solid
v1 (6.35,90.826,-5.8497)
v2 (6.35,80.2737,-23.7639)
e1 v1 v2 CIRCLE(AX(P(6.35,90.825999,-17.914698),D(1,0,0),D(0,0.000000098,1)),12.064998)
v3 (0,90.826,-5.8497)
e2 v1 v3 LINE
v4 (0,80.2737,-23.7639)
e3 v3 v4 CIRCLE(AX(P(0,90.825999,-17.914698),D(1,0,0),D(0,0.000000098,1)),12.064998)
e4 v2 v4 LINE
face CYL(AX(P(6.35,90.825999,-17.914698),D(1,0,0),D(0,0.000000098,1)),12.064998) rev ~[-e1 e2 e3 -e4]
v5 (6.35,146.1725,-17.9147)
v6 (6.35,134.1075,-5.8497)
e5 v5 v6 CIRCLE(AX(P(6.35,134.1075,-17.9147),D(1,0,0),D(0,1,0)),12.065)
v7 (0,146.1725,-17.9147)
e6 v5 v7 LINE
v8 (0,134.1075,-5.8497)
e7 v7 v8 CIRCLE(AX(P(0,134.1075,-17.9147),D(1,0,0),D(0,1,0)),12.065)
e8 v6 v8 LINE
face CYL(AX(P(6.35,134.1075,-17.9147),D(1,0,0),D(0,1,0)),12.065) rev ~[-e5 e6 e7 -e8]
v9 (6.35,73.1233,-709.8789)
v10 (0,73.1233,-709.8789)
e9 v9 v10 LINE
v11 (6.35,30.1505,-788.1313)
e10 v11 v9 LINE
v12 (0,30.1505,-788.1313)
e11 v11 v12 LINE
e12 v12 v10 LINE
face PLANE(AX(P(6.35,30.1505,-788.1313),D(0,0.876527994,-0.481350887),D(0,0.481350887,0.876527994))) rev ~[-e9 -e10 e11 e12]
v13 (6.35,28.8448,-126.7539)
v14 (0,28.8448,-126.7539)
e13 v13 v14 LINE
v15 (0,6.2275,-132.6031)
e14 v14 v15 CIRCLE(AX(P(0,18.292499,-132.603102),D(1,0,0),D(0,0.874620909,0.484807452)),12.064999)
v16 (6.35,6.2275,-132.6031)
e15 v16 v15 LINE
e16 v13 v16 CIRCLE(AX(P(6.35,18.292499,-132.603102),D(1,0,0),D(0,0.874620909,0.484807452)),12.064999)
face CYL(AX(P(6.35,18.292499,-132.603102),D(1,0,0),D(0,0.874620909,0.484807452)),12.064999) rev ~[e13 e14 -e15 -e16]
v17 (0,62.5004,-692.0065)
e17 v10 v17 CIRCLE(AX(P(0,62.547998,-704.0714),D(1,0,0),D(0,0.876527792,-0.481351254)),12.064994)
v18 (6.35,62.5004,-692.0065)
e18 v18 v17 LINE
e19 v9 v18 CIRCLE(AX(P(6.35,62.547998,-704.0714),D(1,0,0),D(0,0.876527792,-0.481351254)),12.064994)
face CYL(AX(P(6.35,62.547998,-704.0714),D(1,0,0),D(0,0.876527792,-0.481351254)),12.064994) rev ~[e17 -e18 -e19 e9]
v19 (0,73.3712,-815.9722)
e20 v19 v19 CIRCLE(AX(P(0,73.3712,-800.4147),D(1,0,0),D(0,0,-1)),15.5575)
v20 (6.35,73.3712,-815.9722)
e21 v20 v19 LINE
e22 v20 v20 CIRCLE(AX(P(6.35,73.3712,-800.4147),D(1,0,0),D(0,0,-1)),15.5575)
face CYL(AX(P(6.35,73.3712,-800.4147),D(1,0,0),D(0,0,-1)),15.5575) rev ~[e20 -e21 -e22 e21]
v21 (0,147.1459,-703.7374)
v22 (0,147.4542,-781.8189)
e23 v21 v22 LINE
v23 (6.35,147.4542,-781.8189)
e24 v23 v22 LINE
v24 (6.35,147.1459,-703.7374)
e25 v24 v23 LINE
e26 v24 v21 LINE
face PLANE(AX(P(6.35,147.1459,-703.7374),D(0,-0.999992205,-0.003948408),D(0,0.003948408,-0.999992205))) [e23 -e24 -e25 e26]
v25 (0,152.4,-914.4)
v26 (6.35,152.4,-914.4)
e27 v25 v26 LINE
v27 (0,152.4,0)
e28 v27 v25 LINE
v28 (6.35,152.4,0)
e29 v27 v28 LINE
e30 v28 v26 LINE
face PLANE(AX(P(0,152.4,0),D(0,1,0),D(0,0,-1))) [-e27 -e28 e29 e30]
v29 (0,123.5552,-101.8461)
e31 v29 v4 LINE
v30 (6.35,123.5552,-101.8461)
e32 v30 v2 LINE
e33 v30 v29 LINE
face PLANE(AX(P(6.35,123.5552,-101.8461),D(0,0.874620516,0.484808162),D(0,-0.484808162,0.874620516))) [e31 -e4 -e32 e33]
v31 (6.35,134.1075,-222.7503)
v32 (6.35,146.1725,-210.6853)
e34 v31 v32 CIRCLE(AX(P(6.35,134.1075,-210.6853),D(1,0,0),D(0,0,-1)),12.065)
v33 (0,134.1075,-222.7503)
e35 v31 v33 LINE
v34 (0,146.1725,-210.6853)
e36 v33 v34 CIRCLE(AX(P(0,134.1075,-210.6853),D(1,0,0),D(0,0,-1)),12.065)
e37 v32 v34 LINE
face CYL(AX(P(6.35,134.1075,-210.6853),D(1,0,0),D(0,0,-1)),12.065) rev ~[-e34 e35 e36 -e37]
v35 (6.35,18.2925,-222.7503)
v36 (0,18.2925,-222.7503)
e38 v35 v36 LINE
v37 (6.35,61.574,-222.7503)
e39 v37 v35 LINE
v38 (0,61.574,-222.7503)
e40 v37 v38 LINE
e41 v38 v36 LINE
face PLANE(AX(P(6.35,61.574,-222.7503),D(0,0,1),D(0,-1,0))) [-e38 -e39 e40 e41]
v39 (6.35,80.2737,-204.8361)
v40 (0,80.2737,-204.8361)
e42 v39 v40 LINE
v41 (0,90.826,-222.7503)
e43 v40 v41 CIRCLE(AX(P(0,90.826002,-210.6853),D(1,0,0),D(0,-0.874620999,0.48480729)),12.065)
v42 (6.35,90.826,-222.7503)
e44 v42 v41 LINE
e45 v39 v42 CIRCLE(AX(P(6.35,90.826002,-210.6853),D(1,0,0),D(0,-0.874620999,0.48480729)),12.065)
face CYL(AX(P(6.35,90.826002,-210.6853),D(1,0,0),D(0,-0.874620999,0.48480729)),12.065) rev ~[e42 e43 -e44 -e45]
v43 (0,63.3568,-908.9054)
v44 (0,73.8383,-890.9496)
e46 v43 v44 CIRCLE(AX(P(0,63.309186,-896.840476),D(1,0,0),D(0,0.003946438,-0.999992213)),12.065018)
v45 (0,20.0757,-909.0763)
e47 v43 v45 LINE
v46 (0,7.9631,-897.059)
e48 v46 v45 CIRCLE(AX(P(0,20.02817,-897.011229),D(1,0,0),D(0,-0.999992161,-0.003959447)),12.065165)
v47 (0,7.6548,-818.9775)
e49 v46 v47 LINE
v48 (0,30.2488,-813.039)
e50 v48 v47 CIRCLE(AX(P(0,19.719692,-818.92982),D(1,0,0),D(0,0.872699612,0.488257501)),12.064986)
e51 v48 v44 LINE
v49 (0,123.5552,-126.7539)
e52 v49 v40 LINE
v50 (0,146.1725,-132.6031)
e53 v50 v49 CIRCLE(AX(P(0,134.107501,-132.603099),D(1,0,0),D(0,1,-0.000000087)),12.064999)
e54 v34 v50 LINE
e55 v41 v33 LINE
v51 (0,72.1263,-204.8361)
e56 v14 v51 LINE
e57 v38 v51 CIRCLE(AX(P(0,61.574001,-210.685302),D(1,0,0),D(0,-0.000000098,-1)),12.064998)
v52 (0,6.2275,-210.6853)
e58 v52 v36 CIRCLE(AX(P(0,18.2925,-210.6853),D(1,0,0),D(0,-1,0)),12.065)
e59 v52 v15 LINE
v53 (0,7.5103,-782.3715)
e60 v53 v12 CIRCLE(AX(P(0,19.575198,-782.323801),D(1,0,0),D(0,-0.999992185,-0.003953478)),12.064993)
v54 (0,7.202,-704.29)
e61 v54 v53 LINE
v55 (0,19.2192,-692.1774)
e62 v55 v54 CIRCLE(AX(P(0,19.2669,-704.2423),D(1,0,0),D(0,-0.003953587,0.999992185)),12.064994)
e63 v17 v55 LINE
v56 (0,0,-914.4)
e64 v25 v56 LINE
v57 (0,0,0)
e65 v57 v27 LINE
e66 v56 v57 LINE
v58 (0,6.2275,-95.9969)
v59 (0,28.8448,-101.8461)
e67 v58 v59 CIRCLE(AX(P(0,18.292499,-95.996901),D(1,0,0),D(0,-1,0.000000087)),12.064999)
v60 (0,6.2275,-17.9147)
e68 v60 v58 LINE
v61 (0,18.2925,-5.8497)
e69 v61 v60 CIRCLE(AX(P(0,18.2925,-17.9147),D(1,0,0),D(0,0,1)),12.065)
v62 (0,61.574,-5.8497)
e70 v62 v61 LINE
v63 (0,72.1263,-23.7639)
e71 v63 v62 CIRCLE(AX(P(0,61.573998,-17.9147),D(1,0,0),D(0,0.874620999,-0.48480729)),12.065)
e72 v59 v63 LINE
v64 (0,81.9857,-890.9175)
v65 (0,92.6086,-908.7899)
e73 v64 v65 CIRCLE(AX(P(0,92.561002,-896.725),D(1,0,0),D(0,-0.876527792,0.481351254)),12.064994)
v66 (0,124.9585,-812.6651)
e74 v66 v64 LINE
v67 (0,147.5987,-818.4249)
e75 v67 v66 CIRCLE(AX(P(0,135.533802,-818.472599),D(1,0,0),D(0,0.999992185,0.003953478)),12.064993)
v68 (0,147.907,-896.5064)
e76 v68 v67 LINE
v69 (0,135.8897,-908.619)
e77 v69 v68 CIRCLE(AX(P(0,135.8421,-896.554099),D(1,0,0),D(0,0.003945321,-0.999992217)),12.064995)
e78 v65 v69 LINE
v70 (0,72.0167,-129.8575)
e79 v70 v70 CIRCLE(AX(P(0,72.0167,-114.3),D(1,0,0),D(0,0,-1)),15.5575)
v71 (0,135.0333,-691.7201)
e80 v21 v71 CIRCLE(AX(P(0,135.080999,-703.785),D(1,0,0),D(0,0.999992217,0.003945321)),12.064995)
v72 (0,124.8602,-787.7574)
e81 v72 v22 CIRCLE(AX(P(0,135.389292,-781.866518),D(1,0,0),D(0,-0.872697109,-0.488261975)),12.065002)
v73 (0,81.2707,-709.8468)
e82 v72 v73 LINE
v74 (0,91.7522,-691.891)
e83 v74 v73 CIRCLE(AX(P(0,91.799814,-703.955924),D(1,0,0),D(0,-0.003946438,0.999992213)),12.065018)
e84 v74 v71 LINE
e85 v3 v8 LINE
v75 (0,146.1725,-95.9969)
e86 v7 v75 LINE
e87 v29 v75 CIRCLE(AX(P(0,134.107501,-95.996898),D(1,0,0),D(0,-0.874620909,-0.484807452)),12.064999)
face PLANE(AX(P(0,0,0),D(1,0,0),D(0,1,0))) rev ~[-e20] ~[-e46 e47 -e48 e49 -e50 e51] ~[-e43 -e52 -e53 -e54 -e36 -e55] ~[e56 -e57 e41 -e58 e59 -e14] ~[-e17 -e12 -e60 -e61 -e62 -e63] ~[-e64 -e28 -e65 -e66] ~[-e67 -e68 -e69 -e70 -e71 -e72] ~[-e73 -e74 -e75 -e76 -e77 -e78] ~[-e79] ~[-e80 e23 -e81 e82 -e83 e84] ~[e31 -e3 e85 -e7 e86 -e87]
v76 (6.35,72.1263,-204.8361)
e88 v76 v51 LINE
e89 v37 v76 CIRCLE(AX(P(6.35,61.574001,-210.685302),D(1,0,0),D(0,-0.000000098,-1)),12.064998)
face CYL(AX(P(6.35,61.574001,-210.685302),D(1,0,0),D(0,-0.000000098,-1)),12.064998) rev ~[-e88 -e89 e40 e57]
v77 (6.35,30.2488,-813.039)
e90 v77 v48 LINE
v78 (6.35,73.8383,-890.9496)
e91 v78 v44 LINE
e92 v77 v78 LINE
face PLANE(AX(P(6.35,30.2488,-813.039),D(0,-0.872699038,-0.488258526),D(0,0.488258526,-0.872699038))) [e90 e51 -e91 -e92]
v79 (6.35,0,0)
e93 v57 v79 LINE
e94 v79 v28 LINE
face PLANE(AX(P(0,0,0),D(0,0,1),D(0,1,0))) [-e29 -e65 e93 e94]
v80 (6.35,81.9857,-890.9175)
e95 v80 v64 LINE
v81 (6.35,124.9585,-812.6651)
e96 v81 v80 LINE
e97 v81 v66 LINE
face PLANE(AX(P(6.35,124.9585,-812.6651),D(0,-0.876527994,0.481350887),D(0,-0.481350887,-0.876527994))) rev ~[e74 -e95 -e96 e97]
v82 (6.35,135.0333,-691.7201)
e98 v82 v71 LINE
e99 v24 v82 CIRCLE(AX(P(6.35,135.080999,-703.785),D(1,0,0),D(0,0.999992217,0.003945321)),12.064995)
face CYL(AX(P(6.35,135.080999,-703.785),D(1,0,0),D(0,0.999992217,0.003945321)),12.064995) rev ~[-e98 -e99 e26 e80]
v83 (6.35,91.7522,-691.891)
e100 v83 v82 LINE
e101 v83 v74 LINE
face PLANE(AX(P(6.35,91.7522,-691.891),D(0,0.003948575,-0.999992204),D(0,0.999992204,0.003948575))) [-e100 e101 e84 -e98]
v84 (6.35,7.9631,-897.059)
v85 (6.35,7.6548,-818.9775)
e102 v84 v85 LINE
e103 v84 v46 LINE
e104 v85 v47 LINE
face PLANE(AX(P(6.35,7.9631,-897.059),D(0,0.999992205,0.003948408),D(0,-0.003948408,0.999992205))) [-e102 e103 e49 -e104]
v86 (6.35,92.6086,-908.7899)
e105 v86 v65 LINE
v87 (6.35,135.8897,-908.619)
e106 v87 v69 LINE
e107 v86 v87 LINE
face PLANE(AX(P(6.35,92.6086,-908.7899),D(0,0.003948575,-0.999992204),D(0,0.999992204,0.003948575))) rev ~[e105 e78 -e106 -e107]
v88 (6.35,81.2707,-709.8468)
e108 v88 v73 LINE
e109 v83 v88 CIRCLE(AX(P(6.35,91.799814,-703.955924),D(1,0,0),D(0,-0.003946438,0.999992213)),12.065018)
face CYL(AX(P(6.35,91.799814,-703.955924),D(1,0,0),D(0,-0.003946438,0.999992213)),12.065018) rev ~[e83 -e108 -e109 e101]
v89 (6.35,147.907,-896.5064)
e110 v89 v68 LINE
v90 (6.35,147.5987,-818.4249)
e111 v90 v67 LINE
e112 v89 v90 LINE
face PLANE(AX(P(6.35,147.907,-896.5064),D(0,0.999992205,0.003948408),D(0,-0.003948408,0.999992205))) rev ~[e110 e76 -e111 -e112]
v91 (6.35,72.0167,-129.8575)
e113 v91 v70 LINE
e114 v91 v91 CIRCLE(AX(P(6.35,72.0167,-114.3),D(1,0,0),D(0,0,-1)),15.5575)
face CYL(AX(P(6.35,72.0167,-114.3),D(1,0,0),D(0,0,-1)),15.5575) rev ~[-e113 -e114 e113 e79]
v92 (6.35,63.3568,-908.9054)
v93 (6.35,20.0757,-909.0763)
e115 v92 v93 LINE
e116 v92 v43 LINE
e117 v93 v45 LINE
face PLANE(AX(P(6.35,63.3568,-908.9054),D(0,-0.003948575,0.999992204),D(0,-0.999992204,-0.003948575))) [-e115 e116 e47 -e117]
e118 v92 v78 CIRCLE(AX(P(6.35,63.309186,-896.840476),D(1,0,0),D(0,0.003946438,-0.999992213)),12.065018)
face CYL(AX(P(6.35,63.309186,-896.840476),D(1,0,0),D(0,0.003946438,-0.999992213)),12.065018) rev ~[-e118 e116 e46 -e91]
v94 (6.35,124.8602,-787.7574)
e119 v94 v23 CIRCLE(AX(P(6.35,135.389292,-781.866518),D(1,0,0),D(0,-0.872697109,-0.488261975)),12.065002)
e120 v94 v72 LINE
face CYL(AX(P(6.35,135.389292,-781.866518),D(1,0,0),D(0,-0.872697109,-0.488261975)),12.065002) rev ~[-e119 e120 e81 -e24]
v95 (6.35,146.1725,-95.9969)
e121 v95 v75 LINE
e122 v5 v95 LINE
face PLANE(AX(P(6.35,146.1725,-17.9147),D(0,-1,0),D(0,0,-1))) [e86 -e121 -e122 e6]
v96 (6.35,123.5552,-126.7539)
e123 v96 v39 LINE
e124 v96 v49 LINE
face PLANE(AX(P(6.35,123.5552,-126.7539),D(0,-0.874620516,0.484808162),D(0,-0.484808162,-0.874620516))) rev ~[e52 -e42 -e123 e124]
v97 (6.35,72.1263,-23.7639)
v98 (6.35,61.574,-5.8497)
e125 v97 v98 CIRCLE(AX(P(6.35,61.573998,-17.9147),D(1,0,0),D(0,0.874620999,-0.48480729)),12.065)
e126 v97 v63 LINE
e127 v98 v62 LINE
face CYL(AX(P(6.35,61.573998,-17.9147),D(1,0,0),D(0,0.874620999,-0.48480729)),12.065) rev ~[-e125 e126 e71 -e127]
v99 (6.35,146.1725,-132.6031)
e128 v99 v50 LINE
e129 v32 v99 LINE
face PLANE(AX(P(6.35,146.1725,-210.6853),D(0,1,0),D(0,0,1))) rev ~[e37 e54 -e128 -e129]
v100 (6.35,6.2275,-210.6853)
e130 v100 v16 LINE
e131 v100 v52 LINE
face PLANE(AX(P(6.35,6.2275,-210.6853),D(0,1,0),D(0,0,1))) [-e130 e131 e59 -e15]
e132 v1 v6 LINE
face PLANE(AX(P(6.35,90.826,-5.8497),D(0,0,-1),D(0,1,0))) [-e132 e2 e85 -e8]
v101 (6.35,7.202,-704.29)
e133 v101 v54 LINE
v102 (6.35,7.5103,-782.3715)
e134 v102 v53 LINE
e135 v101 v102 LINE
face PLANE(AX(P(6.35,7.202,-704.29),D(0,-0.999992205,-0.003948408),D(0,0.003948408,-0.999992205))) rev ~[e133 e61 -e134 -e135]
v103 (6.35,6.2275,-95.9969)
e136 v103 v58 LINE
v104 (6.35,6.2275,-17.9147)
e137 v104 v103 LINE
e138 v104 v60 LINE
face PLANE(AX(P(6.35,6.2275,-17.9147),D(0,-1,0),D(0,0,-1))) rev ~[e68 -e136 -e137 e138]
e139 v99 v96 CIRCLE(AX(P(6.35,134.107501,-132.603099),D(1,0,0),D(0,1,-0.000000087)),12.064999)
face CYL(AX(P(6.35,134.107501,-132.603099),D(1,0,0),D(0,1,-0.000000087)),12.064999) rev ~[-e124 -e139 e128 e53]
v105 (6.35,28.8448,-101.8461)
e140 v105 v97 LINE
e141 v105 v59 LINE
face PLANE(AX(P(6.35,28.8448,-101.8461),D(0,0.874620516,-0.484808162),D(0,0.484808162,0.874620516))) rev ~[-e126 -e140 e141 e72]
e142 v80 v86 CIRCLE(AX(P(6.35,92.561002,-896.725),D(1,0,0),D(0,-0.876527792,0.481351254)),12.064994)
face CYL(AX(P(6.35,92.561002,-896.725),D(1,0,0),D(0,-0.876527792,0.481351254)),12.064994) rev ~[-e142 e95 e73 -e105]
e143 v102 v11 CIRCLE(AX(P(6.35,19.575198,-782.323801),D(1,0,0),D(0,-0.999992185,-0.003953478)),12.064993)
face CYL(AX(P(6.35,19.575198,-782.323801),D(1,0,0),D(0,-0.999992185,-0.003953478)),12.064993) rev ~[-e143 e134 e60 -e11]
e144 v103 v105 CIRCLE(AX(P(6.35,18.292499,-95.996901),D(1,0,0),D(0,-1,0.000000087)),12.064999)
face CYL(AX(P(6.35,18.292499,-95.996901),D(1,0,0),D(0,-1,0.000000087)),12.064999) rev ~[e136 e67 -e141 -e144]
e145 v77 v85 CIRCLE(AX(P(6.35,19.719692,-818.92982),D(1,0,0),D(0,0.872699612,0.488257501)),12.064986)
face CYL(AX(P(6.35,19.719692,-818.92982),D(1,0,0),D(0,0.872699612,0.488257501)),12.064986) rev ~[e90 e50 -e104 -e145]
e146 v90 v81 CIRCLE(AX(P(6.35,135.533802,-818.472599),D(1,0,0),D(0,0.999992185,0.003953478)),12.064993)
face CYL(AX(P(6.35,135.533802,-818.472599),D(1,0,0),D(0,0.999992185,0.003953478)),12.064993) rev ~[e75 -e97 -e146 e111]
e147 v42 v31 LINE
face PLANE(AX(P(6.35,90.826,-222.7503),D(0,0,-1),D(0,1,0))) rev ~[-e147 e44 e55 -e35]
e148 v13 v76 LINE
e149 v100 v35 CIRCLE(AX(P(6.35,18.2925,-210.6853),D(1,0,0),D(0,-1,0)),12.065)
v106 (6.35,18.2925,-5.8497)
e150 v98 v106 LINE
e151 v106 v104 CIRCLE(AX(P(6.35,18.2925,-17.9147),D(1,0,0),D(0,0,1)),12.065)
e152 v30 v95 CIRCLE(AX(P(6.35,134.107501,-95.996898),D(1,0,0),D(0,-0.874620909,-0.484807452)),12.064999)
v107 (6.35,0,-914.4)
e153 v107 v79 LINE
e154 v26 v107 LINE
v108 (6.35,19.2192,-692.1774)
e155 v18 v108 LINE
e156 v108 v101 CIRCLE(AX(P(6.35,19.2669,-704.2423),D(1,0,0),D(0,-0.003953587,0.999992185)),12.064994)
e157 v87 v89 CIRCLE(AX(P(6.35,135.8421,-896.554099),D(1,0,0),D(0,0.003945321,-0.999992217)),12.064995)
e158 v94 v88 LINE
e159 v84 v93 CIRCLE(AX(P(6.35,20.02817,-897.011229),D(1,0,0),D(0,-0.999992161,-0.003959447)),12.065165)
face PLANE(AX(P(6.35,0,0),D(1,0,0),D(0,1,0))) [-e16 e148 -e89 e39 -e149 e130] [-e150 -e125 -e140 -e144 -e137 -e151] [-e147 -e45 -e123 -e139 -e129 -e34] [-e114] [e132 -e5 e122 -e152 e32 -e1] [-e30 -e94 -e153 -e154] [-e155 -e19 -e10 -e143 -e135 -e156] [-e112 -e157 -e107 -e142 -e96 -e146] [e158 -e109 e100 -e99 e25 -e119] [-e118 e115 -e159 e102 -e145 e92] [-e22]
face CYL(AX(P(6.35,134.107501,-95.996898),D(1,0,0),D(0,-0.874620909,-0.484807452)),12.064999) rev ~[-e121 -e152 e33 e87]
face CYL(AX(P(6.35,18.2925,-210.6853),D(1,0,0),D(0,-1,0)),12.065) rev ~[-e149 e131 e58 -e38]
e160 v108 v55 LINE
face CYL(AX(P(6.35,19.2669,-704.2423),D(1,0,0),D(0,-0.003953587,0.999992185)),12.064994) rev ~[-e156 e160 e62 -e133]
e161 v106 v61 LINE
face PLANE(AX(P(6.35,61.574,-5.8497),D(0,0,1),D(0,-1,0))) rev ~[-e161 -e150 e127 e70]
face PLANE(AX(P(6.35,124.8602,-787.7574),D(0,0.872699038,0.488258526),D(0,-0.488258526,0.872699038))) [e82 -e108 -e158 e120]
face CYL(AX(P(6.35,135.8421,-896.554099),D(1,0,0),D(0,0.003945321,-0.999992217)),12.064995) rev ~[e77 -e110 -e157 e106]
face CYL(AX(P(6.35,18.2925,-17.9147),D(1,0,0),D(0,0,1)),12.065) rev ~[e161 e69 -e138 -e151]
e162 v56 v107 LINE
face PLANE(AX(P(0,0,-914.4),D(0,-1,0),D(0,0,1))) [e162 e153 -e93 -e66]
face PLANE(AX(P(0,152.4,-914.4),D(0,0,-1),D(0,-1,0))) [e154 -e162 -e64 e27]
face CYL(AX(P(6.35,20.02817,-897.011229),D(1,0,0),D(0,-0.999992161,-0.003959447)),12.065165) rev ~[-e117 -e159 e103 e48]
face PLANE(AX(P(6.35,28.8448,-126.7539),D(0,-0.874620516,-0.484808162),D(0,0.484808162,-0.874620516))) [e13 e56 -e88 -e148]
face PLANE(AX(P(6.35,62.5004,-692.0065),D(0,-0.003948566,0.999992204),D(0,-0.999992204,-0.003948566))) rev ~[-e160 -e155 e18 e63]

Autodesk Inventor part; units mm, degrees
ref_plane "YZ Plane" through (0, 0, 0) normal (1, 0, 0) x (0, 1, 0)
ref_plane "XZ Plane" through (0, 0, 0) normal (0, 1, 0) x (-1, 0, 0)
ref_plane "XY Plane" through (0, 0, 0) normal (0, 0, 1) x (1, 0, 0)
sketch "Sketch1" plane through (0, 0, 0) normal (1, 0, 0) x (0, 1, 0)
  line L0 (0, 0) -> (152.4, 0)
  line L1 (152.4, 0) -> (152.4, -914.4)
  line L2 (152.4, -914.4) -> (0, -914.4)
  line L3 (0, -914.4) -> (0, 0)
  dimension "d0" = 152.4
  dimension "d1" = 914.4
extrude "Extrusion1" add sketch "Sketch1" along normal blind 6.35
sketch "Sketch2" plane through (6.35, 0, 0) normal (1, 0, 0) x (0, 0, -1)
  line L0 (0, 152.4) -> (0, 0) construction
  line L1 (914.4, 152.4) -> (0, 152.4) construction
  line L2 (0, 152.4) -> (457.2, 152.4) construction
  line L3 (228.6, 152.4) -> (0, 152.4) construction
  line L4 (17.9147, 146.1725) -> (95.9969, 146.1725)
  arc A0 (101.8461, 123.5552) -> (95.9969, 146.1725) centre (95.9969, 134.1075) ccw
  line L5 (101.8461, 123.5552) -> (23.7639, 80.2737)
  arc A1 (5.8497, 90.826) -> (23.7639, 80.2737) centre (17.9147, 90.826) ccw
  line L6 (5.8497, 90.826) -> (5.8497, 134.1075)
  arc A2 (17.9147, 146.1725) -> (5.8497, 134.1075) centre (17.9147, 134.1075) ccw
  line L7 (210.6853, 146.1725) -> (132.6031, 146.1725)
  arc A3 (132.6031, 146.1725) -> (126.7539, 123.5552) centre (132.6031, 134.1075) ccw
  line L8 (126.7539, 123.5552) -> (204.8361, 80.2737)
  arc A4 (204.8361, 80.2737) -> (222.7503, 90.826) centre (210.6853, 90.826) ccw
  line L9 (222.7503, 90.826) -> (222.7503, 134.1075)
  arc A5 (222.7503, 134.1075) -> (210.6853, 146.1725) centre (210.6853, 134.1075) ccw
  line L10 (17.9147, 6.2275) -> (95.9969, 6.2275)
  arc A6 (95.9969, 6.2275) -> (101.8461, 28.8448) centre (95.9969, 18.2925) ccw
  line L11 (101.8461, 28.8448) -> (23.7639, 72.1263)
  arc A7 (23.7639, 72.1263) -> (5.8497, 61.574) centre (17.9147, 61.574) ccw
  line L12 (5.8497, 61.574) -> (5.8497, 18.2925)
  arc A8 (5.8497, 18.2925) -> (17.9147, 6.2275) centre (17.9147, 18.2925) ccw
  line L13 (126.7539, 28.8448) -> (204.8361, 72.1263)
  line L14 (210.6853, 6.2275) -> (132.6031, 6.2275)
  line L15 (222.7503, 61.574) -> (222.7503, 18.2925)
  arc A9 (222.7503, 61.574) -> (204.8361, 72.1263) centre (210.6853, 61.574) ccw
  arc A10 (210.6853, 6.2275) -> (222.7503, 18.2925) centre (210.6853, 18.2925) ccw
  arc A11 (126.7539, 28.8448) -> (132.6031, 6.2275) centre (132.6031, 18.2925) ccw
  line L16 (896.5064, 147.907) -> (818.4249, 147.5987)
  arc A12 (818.4249, 147.5987) -> (812.6651, 124.9585) centre (818.4726, 135.5338) ccw
  line L17 (812.6651, 124.9585) -> (890.9175, 81.9857)
  arc A13 (890.9175, 81.9857) -> (908.7899, 92.6086) centre (896.725, 92.561) ccw
  line L18 (908.7899, 92.6086) -> (908.619, 135.8897)
  arc A14 (908.619, 135.8897) -> (896.5064, 147.907) centre (896.5541, 135.8421) ccw
  line L19 (787.7574, 124.8602) -> (709.8468, 81.2707)
  line L20 (703.7374, 147.1459) -> (781.8189, 147.4542)
  line L21 (691.891, 91.7522) -> (691.7201, 135.0333)
  arc A15 (691.891, 91.7522) -> (709.8468, 81.2707) centre (703.9559, 91.7998) ccw
  arc A16 (703.7374, 147.1459) -> (691.7201, 135.0333) centre (703.785, 135.081) ccw
  arc A17 (787.7574, 124.8602) -> (781.8189, 147.4542) centre (781.8665, 135.3893) ccw
  arc A18 (897.059, 7.9631) -> (909.0763, 20.0757) centre (897.0113, 20.028) ccw
  line L22 (897.059, 7.9631) -> (818.9775, 7.6548)
  line L23 (813.039, 30.2488) -> (890.9496, 73.8383)
  arc A19 (813.039, 30.2488) -> (818.9775, 7.6548) centre (818.9298, 19.7197) ccw
  line L24 (908.9054, 63.3568) -> (909.0763, 20.0757)
  arc A20 (908.9054, 63.3568) -> (890.9496, 73.8383) centre (896.8405, 63.3092) ccw
  arc A21 (782.3715, 7.5103) -> (788.1313, 30.1505) centre (782.3238, 19.5752) ccw
  line L25 (704.29, 7.202) -> (782.3715, 7.5103)
  arc A22 (709.8789, 73.1233) -> (692.0065, 62.5004) centre (704.0714, 62.548) ccw
  line L26 (692.0065, 62.5004) -> (692.1774, 19.2192)
  arc A23 (692.1774, 19.2192) -> (704.29, 7.202) centre (704.2423, 19.2669) ccw
  line L27 (788.1313, 30.1505) -> (709.8789, 73.1233)
  circle A24 centre (114.3, 72.0167) radius 15.5575
  circle A25 centre (800.4147, 73.3712) radius 15.5575
extrude "Extrusion3" cut sketch "Sketch2" against normal blind 25.4
sketch "Sketch3" plane through (6.35, 0, 0) normal (1, 0, 0) x (0, 0, -1)
  arc A0 (787.7574, 124.8602) -> (781.8189, 147.4542) centre (781.8665, 135.3893) ccw projected
  line L0 (787.7574, 124.8602) -> (709.8468, 81.2707) projected
  arc A1 (691.891, 91.7522) -> (709.8468, 81.2707) centre (703.9559, 91.7998) ccw projected
  line L1 (691.891, 91.7522) -> (691.7201, 135.0333) projected
  arc A2 (703.7374, 147.1459) -> (691.7201, 135.0333) centre (703.785, 135.081) ccw projected
  line L2 (703.7374, 147.1459) -> (781.8189, 147.4542) projected
  arc A3 (813.039, 30.2488) -> (818.9775, 7.6548) centre (818.9298, 19.7197) ccw projected
  line L3 (813.039, 30.2488) -> (890.9496, 73.8383) projected
  arc A4 (908.9054, 63.3568) -> (890.9496, 73.8383) centre (896.8405, 63.3092) ccw projected
  line L4 (908.9054, 63.3568) -> (909.0763, 20.0757) projected
  arc A5 (897.059, 7.9631) -> (909.0763, 20.0757) centre (897.0113, 20.028) ccw projected
  line L5 (897.059, 7.9631) -> (818.9775, 7.6548) projected
  arc A6 (95.9969, 6.2275) -> (101.8461, 28.8448) centre (95.9969, 18.2925) ccw projected
  line L6 (95.9969, 6.2275) -> (17.9147, 6.2275) projected
  arc A7 (5.8497, 18.2925) -> (17.9147, 6.2275) centre (17.9147, 18.2925) ccw projected
  line L7 (5.8497, 18.2925) -> (5.8497, 61.574) projected
  arc A8 (23.7639, 72.1263) -> (5.8497, 61.574) centre (17.9147, 61.574) ccw projected
  line L8 (23.7639, 72.1263) -> (101.8461, 28.8448) projected
  arc A9 (17.9147, 146.1725) -> (5.8497, 134.1075) centre (17.9147, 134.1075) ccw projected
  line L9 (17.9147, 146.1725) -> (95.9969, 146.1725) projected
  arc A10 (101.8461, 123.5552) -> (95.9969, 146.1725) centre (95.9969, 134.1075) ccw projected
  line L10 (101.8461, 123.5552) -> (23.7639, 80.2737) projected
  arc A11 (5.8497, 90.826) -> (23.7639, 80.2737) centre (17.9147, 90.826) ccw projected
  line L11 (5.8497, 90.826) -> (5.8497, 134.1075) projected
  circle A12 centre (114.3, 72.0167) radius 15.5575 projected
  circle A13 centre (800.4147, 73.3712) radius 15.5575 projected
  arc A14 (204.8361, 80.2737) -> (222.7503, 90.826) centre (210.6853, 90.826) ccw projected
  line L12 (204.8361, 80.2737) -> (126.7539, 123.5552) projected
  arc A15 (132.6031, 146.1725) -> (126.7539, 123.5552) centre (132.6031, 134.1075) ccw projected
  line L13 (132.6031, 146.1725) -> (210.6853, 146.1725) projected
  arc A16 (222.7503, 134.1075) -> (210.6853, 146.1725) centre (210.6853, 134.1075) ccw projected
  line L14 (222.7503, 134.1075) -> (222.7503, 90.826) projected
  arc A17 (126.7539, 28.8448) -> (132.6031, 6.2275) centre (132.6031, 18.2925) ccw projected
  line L15 (126.7539, 28.8448) -> (204.8361, 72.1263) projected
  arc A18 (222.7503, 61.574) -> (204.8361, 72.1263) centre (210.6853, 61.574) ccw projected
  line L16 (222.7503, 61.574) -> (222.7503, 18.2925) projected
  arc A19 (210.6853, 6.2275) -> (222.7503, 18.2925) centre (210.6853, 18.2925) ccw projected
  line L17 (210.6853, 6.2275) -> (132.6031, 6.2275) projected
  arc A20 (709.8789, 73.1233) -> (692.0065, 62.5004) centre (704.0714, 62.548) ccw projected
  line L18 (709.8789, 73.1233) -> (788.1313, 30.1505) projected
  arc A21 (782.3715, 7.5103) -> (788.1313, 30.1505) centre (782.3238, 19.5752) ccw projected
  line L19 (782.3715, 7.5103) -> (704.29, 7.202) projected
  arc A22 (692.1774, 19.2192) -> (704.29, 7.202) centre (704.2423, 19.2669) ccw projected
  line L20 (692.1774, 19.2192) -> (692.0065, 62.5004) projected
  arc A23 (890.9175, 81.9857) -> (908.7899, 92.6086) centre (896.725, 92.561) ccw projected
  line L21 (890.9175, 81.9857) -> (812.6651, 124.9585) projected
  arc A24 (818.4249, 147.5987) -> (812.6651, 124.9585) centre (818.4726, 135.5338) ccw projected
  line L22 (818.4249, 147.5987) -> (896.5064, 147.907) projected
  arc A25 (908.619, 135.8897) -> (896.5064, 147.907) centre (896.5541, 135.8421) ccw projected
  line L23 (908.619, 135.8897) -> (908.7899, 92.6086) projected
  line L24 (0, 152.4) -> (0, 0) projected
  line L25 (0, 0) -> (914.4, 0) projected
  line L26 (914.4, 0) -> (914.4, 152.4) projected
  line L27 (914.4, 152.4) -> (0, 152.4) projected
  line L28 (914.4, 152.4) -> (0, 152.4) projected
  line L29 (222.7503, 152.4) -> (222.7503, 0)
  line L30 (0, 0) -> (914.4, 0) projected
  line L31 (692.2533, 0) -> (692.2533, 152.4)
  line L32 (222.7503, 152.4) -> (692.2533, 152.4)
  line L33 (692.2533, 0) -> (222.7503, 0)
  line L34 (210.6853, 146.1725) -> (280.8234, 146.1725) construction
  line L35 (210.6853, 146.1725) -> (280.8234, 146.1725) construction
  line L36 (229.1003, 6.35) -> (229.1003, 146.05)
  line L37 (229.1003, 146.05) -> (685.9033, 146.05)
  line L38 (685.9033, 146.05) -> (685.9033, 6.35)
  line L39 (685.9033, 6.35) -> (229.1003, 6.35)
properties part number "R-O-SideV2"
